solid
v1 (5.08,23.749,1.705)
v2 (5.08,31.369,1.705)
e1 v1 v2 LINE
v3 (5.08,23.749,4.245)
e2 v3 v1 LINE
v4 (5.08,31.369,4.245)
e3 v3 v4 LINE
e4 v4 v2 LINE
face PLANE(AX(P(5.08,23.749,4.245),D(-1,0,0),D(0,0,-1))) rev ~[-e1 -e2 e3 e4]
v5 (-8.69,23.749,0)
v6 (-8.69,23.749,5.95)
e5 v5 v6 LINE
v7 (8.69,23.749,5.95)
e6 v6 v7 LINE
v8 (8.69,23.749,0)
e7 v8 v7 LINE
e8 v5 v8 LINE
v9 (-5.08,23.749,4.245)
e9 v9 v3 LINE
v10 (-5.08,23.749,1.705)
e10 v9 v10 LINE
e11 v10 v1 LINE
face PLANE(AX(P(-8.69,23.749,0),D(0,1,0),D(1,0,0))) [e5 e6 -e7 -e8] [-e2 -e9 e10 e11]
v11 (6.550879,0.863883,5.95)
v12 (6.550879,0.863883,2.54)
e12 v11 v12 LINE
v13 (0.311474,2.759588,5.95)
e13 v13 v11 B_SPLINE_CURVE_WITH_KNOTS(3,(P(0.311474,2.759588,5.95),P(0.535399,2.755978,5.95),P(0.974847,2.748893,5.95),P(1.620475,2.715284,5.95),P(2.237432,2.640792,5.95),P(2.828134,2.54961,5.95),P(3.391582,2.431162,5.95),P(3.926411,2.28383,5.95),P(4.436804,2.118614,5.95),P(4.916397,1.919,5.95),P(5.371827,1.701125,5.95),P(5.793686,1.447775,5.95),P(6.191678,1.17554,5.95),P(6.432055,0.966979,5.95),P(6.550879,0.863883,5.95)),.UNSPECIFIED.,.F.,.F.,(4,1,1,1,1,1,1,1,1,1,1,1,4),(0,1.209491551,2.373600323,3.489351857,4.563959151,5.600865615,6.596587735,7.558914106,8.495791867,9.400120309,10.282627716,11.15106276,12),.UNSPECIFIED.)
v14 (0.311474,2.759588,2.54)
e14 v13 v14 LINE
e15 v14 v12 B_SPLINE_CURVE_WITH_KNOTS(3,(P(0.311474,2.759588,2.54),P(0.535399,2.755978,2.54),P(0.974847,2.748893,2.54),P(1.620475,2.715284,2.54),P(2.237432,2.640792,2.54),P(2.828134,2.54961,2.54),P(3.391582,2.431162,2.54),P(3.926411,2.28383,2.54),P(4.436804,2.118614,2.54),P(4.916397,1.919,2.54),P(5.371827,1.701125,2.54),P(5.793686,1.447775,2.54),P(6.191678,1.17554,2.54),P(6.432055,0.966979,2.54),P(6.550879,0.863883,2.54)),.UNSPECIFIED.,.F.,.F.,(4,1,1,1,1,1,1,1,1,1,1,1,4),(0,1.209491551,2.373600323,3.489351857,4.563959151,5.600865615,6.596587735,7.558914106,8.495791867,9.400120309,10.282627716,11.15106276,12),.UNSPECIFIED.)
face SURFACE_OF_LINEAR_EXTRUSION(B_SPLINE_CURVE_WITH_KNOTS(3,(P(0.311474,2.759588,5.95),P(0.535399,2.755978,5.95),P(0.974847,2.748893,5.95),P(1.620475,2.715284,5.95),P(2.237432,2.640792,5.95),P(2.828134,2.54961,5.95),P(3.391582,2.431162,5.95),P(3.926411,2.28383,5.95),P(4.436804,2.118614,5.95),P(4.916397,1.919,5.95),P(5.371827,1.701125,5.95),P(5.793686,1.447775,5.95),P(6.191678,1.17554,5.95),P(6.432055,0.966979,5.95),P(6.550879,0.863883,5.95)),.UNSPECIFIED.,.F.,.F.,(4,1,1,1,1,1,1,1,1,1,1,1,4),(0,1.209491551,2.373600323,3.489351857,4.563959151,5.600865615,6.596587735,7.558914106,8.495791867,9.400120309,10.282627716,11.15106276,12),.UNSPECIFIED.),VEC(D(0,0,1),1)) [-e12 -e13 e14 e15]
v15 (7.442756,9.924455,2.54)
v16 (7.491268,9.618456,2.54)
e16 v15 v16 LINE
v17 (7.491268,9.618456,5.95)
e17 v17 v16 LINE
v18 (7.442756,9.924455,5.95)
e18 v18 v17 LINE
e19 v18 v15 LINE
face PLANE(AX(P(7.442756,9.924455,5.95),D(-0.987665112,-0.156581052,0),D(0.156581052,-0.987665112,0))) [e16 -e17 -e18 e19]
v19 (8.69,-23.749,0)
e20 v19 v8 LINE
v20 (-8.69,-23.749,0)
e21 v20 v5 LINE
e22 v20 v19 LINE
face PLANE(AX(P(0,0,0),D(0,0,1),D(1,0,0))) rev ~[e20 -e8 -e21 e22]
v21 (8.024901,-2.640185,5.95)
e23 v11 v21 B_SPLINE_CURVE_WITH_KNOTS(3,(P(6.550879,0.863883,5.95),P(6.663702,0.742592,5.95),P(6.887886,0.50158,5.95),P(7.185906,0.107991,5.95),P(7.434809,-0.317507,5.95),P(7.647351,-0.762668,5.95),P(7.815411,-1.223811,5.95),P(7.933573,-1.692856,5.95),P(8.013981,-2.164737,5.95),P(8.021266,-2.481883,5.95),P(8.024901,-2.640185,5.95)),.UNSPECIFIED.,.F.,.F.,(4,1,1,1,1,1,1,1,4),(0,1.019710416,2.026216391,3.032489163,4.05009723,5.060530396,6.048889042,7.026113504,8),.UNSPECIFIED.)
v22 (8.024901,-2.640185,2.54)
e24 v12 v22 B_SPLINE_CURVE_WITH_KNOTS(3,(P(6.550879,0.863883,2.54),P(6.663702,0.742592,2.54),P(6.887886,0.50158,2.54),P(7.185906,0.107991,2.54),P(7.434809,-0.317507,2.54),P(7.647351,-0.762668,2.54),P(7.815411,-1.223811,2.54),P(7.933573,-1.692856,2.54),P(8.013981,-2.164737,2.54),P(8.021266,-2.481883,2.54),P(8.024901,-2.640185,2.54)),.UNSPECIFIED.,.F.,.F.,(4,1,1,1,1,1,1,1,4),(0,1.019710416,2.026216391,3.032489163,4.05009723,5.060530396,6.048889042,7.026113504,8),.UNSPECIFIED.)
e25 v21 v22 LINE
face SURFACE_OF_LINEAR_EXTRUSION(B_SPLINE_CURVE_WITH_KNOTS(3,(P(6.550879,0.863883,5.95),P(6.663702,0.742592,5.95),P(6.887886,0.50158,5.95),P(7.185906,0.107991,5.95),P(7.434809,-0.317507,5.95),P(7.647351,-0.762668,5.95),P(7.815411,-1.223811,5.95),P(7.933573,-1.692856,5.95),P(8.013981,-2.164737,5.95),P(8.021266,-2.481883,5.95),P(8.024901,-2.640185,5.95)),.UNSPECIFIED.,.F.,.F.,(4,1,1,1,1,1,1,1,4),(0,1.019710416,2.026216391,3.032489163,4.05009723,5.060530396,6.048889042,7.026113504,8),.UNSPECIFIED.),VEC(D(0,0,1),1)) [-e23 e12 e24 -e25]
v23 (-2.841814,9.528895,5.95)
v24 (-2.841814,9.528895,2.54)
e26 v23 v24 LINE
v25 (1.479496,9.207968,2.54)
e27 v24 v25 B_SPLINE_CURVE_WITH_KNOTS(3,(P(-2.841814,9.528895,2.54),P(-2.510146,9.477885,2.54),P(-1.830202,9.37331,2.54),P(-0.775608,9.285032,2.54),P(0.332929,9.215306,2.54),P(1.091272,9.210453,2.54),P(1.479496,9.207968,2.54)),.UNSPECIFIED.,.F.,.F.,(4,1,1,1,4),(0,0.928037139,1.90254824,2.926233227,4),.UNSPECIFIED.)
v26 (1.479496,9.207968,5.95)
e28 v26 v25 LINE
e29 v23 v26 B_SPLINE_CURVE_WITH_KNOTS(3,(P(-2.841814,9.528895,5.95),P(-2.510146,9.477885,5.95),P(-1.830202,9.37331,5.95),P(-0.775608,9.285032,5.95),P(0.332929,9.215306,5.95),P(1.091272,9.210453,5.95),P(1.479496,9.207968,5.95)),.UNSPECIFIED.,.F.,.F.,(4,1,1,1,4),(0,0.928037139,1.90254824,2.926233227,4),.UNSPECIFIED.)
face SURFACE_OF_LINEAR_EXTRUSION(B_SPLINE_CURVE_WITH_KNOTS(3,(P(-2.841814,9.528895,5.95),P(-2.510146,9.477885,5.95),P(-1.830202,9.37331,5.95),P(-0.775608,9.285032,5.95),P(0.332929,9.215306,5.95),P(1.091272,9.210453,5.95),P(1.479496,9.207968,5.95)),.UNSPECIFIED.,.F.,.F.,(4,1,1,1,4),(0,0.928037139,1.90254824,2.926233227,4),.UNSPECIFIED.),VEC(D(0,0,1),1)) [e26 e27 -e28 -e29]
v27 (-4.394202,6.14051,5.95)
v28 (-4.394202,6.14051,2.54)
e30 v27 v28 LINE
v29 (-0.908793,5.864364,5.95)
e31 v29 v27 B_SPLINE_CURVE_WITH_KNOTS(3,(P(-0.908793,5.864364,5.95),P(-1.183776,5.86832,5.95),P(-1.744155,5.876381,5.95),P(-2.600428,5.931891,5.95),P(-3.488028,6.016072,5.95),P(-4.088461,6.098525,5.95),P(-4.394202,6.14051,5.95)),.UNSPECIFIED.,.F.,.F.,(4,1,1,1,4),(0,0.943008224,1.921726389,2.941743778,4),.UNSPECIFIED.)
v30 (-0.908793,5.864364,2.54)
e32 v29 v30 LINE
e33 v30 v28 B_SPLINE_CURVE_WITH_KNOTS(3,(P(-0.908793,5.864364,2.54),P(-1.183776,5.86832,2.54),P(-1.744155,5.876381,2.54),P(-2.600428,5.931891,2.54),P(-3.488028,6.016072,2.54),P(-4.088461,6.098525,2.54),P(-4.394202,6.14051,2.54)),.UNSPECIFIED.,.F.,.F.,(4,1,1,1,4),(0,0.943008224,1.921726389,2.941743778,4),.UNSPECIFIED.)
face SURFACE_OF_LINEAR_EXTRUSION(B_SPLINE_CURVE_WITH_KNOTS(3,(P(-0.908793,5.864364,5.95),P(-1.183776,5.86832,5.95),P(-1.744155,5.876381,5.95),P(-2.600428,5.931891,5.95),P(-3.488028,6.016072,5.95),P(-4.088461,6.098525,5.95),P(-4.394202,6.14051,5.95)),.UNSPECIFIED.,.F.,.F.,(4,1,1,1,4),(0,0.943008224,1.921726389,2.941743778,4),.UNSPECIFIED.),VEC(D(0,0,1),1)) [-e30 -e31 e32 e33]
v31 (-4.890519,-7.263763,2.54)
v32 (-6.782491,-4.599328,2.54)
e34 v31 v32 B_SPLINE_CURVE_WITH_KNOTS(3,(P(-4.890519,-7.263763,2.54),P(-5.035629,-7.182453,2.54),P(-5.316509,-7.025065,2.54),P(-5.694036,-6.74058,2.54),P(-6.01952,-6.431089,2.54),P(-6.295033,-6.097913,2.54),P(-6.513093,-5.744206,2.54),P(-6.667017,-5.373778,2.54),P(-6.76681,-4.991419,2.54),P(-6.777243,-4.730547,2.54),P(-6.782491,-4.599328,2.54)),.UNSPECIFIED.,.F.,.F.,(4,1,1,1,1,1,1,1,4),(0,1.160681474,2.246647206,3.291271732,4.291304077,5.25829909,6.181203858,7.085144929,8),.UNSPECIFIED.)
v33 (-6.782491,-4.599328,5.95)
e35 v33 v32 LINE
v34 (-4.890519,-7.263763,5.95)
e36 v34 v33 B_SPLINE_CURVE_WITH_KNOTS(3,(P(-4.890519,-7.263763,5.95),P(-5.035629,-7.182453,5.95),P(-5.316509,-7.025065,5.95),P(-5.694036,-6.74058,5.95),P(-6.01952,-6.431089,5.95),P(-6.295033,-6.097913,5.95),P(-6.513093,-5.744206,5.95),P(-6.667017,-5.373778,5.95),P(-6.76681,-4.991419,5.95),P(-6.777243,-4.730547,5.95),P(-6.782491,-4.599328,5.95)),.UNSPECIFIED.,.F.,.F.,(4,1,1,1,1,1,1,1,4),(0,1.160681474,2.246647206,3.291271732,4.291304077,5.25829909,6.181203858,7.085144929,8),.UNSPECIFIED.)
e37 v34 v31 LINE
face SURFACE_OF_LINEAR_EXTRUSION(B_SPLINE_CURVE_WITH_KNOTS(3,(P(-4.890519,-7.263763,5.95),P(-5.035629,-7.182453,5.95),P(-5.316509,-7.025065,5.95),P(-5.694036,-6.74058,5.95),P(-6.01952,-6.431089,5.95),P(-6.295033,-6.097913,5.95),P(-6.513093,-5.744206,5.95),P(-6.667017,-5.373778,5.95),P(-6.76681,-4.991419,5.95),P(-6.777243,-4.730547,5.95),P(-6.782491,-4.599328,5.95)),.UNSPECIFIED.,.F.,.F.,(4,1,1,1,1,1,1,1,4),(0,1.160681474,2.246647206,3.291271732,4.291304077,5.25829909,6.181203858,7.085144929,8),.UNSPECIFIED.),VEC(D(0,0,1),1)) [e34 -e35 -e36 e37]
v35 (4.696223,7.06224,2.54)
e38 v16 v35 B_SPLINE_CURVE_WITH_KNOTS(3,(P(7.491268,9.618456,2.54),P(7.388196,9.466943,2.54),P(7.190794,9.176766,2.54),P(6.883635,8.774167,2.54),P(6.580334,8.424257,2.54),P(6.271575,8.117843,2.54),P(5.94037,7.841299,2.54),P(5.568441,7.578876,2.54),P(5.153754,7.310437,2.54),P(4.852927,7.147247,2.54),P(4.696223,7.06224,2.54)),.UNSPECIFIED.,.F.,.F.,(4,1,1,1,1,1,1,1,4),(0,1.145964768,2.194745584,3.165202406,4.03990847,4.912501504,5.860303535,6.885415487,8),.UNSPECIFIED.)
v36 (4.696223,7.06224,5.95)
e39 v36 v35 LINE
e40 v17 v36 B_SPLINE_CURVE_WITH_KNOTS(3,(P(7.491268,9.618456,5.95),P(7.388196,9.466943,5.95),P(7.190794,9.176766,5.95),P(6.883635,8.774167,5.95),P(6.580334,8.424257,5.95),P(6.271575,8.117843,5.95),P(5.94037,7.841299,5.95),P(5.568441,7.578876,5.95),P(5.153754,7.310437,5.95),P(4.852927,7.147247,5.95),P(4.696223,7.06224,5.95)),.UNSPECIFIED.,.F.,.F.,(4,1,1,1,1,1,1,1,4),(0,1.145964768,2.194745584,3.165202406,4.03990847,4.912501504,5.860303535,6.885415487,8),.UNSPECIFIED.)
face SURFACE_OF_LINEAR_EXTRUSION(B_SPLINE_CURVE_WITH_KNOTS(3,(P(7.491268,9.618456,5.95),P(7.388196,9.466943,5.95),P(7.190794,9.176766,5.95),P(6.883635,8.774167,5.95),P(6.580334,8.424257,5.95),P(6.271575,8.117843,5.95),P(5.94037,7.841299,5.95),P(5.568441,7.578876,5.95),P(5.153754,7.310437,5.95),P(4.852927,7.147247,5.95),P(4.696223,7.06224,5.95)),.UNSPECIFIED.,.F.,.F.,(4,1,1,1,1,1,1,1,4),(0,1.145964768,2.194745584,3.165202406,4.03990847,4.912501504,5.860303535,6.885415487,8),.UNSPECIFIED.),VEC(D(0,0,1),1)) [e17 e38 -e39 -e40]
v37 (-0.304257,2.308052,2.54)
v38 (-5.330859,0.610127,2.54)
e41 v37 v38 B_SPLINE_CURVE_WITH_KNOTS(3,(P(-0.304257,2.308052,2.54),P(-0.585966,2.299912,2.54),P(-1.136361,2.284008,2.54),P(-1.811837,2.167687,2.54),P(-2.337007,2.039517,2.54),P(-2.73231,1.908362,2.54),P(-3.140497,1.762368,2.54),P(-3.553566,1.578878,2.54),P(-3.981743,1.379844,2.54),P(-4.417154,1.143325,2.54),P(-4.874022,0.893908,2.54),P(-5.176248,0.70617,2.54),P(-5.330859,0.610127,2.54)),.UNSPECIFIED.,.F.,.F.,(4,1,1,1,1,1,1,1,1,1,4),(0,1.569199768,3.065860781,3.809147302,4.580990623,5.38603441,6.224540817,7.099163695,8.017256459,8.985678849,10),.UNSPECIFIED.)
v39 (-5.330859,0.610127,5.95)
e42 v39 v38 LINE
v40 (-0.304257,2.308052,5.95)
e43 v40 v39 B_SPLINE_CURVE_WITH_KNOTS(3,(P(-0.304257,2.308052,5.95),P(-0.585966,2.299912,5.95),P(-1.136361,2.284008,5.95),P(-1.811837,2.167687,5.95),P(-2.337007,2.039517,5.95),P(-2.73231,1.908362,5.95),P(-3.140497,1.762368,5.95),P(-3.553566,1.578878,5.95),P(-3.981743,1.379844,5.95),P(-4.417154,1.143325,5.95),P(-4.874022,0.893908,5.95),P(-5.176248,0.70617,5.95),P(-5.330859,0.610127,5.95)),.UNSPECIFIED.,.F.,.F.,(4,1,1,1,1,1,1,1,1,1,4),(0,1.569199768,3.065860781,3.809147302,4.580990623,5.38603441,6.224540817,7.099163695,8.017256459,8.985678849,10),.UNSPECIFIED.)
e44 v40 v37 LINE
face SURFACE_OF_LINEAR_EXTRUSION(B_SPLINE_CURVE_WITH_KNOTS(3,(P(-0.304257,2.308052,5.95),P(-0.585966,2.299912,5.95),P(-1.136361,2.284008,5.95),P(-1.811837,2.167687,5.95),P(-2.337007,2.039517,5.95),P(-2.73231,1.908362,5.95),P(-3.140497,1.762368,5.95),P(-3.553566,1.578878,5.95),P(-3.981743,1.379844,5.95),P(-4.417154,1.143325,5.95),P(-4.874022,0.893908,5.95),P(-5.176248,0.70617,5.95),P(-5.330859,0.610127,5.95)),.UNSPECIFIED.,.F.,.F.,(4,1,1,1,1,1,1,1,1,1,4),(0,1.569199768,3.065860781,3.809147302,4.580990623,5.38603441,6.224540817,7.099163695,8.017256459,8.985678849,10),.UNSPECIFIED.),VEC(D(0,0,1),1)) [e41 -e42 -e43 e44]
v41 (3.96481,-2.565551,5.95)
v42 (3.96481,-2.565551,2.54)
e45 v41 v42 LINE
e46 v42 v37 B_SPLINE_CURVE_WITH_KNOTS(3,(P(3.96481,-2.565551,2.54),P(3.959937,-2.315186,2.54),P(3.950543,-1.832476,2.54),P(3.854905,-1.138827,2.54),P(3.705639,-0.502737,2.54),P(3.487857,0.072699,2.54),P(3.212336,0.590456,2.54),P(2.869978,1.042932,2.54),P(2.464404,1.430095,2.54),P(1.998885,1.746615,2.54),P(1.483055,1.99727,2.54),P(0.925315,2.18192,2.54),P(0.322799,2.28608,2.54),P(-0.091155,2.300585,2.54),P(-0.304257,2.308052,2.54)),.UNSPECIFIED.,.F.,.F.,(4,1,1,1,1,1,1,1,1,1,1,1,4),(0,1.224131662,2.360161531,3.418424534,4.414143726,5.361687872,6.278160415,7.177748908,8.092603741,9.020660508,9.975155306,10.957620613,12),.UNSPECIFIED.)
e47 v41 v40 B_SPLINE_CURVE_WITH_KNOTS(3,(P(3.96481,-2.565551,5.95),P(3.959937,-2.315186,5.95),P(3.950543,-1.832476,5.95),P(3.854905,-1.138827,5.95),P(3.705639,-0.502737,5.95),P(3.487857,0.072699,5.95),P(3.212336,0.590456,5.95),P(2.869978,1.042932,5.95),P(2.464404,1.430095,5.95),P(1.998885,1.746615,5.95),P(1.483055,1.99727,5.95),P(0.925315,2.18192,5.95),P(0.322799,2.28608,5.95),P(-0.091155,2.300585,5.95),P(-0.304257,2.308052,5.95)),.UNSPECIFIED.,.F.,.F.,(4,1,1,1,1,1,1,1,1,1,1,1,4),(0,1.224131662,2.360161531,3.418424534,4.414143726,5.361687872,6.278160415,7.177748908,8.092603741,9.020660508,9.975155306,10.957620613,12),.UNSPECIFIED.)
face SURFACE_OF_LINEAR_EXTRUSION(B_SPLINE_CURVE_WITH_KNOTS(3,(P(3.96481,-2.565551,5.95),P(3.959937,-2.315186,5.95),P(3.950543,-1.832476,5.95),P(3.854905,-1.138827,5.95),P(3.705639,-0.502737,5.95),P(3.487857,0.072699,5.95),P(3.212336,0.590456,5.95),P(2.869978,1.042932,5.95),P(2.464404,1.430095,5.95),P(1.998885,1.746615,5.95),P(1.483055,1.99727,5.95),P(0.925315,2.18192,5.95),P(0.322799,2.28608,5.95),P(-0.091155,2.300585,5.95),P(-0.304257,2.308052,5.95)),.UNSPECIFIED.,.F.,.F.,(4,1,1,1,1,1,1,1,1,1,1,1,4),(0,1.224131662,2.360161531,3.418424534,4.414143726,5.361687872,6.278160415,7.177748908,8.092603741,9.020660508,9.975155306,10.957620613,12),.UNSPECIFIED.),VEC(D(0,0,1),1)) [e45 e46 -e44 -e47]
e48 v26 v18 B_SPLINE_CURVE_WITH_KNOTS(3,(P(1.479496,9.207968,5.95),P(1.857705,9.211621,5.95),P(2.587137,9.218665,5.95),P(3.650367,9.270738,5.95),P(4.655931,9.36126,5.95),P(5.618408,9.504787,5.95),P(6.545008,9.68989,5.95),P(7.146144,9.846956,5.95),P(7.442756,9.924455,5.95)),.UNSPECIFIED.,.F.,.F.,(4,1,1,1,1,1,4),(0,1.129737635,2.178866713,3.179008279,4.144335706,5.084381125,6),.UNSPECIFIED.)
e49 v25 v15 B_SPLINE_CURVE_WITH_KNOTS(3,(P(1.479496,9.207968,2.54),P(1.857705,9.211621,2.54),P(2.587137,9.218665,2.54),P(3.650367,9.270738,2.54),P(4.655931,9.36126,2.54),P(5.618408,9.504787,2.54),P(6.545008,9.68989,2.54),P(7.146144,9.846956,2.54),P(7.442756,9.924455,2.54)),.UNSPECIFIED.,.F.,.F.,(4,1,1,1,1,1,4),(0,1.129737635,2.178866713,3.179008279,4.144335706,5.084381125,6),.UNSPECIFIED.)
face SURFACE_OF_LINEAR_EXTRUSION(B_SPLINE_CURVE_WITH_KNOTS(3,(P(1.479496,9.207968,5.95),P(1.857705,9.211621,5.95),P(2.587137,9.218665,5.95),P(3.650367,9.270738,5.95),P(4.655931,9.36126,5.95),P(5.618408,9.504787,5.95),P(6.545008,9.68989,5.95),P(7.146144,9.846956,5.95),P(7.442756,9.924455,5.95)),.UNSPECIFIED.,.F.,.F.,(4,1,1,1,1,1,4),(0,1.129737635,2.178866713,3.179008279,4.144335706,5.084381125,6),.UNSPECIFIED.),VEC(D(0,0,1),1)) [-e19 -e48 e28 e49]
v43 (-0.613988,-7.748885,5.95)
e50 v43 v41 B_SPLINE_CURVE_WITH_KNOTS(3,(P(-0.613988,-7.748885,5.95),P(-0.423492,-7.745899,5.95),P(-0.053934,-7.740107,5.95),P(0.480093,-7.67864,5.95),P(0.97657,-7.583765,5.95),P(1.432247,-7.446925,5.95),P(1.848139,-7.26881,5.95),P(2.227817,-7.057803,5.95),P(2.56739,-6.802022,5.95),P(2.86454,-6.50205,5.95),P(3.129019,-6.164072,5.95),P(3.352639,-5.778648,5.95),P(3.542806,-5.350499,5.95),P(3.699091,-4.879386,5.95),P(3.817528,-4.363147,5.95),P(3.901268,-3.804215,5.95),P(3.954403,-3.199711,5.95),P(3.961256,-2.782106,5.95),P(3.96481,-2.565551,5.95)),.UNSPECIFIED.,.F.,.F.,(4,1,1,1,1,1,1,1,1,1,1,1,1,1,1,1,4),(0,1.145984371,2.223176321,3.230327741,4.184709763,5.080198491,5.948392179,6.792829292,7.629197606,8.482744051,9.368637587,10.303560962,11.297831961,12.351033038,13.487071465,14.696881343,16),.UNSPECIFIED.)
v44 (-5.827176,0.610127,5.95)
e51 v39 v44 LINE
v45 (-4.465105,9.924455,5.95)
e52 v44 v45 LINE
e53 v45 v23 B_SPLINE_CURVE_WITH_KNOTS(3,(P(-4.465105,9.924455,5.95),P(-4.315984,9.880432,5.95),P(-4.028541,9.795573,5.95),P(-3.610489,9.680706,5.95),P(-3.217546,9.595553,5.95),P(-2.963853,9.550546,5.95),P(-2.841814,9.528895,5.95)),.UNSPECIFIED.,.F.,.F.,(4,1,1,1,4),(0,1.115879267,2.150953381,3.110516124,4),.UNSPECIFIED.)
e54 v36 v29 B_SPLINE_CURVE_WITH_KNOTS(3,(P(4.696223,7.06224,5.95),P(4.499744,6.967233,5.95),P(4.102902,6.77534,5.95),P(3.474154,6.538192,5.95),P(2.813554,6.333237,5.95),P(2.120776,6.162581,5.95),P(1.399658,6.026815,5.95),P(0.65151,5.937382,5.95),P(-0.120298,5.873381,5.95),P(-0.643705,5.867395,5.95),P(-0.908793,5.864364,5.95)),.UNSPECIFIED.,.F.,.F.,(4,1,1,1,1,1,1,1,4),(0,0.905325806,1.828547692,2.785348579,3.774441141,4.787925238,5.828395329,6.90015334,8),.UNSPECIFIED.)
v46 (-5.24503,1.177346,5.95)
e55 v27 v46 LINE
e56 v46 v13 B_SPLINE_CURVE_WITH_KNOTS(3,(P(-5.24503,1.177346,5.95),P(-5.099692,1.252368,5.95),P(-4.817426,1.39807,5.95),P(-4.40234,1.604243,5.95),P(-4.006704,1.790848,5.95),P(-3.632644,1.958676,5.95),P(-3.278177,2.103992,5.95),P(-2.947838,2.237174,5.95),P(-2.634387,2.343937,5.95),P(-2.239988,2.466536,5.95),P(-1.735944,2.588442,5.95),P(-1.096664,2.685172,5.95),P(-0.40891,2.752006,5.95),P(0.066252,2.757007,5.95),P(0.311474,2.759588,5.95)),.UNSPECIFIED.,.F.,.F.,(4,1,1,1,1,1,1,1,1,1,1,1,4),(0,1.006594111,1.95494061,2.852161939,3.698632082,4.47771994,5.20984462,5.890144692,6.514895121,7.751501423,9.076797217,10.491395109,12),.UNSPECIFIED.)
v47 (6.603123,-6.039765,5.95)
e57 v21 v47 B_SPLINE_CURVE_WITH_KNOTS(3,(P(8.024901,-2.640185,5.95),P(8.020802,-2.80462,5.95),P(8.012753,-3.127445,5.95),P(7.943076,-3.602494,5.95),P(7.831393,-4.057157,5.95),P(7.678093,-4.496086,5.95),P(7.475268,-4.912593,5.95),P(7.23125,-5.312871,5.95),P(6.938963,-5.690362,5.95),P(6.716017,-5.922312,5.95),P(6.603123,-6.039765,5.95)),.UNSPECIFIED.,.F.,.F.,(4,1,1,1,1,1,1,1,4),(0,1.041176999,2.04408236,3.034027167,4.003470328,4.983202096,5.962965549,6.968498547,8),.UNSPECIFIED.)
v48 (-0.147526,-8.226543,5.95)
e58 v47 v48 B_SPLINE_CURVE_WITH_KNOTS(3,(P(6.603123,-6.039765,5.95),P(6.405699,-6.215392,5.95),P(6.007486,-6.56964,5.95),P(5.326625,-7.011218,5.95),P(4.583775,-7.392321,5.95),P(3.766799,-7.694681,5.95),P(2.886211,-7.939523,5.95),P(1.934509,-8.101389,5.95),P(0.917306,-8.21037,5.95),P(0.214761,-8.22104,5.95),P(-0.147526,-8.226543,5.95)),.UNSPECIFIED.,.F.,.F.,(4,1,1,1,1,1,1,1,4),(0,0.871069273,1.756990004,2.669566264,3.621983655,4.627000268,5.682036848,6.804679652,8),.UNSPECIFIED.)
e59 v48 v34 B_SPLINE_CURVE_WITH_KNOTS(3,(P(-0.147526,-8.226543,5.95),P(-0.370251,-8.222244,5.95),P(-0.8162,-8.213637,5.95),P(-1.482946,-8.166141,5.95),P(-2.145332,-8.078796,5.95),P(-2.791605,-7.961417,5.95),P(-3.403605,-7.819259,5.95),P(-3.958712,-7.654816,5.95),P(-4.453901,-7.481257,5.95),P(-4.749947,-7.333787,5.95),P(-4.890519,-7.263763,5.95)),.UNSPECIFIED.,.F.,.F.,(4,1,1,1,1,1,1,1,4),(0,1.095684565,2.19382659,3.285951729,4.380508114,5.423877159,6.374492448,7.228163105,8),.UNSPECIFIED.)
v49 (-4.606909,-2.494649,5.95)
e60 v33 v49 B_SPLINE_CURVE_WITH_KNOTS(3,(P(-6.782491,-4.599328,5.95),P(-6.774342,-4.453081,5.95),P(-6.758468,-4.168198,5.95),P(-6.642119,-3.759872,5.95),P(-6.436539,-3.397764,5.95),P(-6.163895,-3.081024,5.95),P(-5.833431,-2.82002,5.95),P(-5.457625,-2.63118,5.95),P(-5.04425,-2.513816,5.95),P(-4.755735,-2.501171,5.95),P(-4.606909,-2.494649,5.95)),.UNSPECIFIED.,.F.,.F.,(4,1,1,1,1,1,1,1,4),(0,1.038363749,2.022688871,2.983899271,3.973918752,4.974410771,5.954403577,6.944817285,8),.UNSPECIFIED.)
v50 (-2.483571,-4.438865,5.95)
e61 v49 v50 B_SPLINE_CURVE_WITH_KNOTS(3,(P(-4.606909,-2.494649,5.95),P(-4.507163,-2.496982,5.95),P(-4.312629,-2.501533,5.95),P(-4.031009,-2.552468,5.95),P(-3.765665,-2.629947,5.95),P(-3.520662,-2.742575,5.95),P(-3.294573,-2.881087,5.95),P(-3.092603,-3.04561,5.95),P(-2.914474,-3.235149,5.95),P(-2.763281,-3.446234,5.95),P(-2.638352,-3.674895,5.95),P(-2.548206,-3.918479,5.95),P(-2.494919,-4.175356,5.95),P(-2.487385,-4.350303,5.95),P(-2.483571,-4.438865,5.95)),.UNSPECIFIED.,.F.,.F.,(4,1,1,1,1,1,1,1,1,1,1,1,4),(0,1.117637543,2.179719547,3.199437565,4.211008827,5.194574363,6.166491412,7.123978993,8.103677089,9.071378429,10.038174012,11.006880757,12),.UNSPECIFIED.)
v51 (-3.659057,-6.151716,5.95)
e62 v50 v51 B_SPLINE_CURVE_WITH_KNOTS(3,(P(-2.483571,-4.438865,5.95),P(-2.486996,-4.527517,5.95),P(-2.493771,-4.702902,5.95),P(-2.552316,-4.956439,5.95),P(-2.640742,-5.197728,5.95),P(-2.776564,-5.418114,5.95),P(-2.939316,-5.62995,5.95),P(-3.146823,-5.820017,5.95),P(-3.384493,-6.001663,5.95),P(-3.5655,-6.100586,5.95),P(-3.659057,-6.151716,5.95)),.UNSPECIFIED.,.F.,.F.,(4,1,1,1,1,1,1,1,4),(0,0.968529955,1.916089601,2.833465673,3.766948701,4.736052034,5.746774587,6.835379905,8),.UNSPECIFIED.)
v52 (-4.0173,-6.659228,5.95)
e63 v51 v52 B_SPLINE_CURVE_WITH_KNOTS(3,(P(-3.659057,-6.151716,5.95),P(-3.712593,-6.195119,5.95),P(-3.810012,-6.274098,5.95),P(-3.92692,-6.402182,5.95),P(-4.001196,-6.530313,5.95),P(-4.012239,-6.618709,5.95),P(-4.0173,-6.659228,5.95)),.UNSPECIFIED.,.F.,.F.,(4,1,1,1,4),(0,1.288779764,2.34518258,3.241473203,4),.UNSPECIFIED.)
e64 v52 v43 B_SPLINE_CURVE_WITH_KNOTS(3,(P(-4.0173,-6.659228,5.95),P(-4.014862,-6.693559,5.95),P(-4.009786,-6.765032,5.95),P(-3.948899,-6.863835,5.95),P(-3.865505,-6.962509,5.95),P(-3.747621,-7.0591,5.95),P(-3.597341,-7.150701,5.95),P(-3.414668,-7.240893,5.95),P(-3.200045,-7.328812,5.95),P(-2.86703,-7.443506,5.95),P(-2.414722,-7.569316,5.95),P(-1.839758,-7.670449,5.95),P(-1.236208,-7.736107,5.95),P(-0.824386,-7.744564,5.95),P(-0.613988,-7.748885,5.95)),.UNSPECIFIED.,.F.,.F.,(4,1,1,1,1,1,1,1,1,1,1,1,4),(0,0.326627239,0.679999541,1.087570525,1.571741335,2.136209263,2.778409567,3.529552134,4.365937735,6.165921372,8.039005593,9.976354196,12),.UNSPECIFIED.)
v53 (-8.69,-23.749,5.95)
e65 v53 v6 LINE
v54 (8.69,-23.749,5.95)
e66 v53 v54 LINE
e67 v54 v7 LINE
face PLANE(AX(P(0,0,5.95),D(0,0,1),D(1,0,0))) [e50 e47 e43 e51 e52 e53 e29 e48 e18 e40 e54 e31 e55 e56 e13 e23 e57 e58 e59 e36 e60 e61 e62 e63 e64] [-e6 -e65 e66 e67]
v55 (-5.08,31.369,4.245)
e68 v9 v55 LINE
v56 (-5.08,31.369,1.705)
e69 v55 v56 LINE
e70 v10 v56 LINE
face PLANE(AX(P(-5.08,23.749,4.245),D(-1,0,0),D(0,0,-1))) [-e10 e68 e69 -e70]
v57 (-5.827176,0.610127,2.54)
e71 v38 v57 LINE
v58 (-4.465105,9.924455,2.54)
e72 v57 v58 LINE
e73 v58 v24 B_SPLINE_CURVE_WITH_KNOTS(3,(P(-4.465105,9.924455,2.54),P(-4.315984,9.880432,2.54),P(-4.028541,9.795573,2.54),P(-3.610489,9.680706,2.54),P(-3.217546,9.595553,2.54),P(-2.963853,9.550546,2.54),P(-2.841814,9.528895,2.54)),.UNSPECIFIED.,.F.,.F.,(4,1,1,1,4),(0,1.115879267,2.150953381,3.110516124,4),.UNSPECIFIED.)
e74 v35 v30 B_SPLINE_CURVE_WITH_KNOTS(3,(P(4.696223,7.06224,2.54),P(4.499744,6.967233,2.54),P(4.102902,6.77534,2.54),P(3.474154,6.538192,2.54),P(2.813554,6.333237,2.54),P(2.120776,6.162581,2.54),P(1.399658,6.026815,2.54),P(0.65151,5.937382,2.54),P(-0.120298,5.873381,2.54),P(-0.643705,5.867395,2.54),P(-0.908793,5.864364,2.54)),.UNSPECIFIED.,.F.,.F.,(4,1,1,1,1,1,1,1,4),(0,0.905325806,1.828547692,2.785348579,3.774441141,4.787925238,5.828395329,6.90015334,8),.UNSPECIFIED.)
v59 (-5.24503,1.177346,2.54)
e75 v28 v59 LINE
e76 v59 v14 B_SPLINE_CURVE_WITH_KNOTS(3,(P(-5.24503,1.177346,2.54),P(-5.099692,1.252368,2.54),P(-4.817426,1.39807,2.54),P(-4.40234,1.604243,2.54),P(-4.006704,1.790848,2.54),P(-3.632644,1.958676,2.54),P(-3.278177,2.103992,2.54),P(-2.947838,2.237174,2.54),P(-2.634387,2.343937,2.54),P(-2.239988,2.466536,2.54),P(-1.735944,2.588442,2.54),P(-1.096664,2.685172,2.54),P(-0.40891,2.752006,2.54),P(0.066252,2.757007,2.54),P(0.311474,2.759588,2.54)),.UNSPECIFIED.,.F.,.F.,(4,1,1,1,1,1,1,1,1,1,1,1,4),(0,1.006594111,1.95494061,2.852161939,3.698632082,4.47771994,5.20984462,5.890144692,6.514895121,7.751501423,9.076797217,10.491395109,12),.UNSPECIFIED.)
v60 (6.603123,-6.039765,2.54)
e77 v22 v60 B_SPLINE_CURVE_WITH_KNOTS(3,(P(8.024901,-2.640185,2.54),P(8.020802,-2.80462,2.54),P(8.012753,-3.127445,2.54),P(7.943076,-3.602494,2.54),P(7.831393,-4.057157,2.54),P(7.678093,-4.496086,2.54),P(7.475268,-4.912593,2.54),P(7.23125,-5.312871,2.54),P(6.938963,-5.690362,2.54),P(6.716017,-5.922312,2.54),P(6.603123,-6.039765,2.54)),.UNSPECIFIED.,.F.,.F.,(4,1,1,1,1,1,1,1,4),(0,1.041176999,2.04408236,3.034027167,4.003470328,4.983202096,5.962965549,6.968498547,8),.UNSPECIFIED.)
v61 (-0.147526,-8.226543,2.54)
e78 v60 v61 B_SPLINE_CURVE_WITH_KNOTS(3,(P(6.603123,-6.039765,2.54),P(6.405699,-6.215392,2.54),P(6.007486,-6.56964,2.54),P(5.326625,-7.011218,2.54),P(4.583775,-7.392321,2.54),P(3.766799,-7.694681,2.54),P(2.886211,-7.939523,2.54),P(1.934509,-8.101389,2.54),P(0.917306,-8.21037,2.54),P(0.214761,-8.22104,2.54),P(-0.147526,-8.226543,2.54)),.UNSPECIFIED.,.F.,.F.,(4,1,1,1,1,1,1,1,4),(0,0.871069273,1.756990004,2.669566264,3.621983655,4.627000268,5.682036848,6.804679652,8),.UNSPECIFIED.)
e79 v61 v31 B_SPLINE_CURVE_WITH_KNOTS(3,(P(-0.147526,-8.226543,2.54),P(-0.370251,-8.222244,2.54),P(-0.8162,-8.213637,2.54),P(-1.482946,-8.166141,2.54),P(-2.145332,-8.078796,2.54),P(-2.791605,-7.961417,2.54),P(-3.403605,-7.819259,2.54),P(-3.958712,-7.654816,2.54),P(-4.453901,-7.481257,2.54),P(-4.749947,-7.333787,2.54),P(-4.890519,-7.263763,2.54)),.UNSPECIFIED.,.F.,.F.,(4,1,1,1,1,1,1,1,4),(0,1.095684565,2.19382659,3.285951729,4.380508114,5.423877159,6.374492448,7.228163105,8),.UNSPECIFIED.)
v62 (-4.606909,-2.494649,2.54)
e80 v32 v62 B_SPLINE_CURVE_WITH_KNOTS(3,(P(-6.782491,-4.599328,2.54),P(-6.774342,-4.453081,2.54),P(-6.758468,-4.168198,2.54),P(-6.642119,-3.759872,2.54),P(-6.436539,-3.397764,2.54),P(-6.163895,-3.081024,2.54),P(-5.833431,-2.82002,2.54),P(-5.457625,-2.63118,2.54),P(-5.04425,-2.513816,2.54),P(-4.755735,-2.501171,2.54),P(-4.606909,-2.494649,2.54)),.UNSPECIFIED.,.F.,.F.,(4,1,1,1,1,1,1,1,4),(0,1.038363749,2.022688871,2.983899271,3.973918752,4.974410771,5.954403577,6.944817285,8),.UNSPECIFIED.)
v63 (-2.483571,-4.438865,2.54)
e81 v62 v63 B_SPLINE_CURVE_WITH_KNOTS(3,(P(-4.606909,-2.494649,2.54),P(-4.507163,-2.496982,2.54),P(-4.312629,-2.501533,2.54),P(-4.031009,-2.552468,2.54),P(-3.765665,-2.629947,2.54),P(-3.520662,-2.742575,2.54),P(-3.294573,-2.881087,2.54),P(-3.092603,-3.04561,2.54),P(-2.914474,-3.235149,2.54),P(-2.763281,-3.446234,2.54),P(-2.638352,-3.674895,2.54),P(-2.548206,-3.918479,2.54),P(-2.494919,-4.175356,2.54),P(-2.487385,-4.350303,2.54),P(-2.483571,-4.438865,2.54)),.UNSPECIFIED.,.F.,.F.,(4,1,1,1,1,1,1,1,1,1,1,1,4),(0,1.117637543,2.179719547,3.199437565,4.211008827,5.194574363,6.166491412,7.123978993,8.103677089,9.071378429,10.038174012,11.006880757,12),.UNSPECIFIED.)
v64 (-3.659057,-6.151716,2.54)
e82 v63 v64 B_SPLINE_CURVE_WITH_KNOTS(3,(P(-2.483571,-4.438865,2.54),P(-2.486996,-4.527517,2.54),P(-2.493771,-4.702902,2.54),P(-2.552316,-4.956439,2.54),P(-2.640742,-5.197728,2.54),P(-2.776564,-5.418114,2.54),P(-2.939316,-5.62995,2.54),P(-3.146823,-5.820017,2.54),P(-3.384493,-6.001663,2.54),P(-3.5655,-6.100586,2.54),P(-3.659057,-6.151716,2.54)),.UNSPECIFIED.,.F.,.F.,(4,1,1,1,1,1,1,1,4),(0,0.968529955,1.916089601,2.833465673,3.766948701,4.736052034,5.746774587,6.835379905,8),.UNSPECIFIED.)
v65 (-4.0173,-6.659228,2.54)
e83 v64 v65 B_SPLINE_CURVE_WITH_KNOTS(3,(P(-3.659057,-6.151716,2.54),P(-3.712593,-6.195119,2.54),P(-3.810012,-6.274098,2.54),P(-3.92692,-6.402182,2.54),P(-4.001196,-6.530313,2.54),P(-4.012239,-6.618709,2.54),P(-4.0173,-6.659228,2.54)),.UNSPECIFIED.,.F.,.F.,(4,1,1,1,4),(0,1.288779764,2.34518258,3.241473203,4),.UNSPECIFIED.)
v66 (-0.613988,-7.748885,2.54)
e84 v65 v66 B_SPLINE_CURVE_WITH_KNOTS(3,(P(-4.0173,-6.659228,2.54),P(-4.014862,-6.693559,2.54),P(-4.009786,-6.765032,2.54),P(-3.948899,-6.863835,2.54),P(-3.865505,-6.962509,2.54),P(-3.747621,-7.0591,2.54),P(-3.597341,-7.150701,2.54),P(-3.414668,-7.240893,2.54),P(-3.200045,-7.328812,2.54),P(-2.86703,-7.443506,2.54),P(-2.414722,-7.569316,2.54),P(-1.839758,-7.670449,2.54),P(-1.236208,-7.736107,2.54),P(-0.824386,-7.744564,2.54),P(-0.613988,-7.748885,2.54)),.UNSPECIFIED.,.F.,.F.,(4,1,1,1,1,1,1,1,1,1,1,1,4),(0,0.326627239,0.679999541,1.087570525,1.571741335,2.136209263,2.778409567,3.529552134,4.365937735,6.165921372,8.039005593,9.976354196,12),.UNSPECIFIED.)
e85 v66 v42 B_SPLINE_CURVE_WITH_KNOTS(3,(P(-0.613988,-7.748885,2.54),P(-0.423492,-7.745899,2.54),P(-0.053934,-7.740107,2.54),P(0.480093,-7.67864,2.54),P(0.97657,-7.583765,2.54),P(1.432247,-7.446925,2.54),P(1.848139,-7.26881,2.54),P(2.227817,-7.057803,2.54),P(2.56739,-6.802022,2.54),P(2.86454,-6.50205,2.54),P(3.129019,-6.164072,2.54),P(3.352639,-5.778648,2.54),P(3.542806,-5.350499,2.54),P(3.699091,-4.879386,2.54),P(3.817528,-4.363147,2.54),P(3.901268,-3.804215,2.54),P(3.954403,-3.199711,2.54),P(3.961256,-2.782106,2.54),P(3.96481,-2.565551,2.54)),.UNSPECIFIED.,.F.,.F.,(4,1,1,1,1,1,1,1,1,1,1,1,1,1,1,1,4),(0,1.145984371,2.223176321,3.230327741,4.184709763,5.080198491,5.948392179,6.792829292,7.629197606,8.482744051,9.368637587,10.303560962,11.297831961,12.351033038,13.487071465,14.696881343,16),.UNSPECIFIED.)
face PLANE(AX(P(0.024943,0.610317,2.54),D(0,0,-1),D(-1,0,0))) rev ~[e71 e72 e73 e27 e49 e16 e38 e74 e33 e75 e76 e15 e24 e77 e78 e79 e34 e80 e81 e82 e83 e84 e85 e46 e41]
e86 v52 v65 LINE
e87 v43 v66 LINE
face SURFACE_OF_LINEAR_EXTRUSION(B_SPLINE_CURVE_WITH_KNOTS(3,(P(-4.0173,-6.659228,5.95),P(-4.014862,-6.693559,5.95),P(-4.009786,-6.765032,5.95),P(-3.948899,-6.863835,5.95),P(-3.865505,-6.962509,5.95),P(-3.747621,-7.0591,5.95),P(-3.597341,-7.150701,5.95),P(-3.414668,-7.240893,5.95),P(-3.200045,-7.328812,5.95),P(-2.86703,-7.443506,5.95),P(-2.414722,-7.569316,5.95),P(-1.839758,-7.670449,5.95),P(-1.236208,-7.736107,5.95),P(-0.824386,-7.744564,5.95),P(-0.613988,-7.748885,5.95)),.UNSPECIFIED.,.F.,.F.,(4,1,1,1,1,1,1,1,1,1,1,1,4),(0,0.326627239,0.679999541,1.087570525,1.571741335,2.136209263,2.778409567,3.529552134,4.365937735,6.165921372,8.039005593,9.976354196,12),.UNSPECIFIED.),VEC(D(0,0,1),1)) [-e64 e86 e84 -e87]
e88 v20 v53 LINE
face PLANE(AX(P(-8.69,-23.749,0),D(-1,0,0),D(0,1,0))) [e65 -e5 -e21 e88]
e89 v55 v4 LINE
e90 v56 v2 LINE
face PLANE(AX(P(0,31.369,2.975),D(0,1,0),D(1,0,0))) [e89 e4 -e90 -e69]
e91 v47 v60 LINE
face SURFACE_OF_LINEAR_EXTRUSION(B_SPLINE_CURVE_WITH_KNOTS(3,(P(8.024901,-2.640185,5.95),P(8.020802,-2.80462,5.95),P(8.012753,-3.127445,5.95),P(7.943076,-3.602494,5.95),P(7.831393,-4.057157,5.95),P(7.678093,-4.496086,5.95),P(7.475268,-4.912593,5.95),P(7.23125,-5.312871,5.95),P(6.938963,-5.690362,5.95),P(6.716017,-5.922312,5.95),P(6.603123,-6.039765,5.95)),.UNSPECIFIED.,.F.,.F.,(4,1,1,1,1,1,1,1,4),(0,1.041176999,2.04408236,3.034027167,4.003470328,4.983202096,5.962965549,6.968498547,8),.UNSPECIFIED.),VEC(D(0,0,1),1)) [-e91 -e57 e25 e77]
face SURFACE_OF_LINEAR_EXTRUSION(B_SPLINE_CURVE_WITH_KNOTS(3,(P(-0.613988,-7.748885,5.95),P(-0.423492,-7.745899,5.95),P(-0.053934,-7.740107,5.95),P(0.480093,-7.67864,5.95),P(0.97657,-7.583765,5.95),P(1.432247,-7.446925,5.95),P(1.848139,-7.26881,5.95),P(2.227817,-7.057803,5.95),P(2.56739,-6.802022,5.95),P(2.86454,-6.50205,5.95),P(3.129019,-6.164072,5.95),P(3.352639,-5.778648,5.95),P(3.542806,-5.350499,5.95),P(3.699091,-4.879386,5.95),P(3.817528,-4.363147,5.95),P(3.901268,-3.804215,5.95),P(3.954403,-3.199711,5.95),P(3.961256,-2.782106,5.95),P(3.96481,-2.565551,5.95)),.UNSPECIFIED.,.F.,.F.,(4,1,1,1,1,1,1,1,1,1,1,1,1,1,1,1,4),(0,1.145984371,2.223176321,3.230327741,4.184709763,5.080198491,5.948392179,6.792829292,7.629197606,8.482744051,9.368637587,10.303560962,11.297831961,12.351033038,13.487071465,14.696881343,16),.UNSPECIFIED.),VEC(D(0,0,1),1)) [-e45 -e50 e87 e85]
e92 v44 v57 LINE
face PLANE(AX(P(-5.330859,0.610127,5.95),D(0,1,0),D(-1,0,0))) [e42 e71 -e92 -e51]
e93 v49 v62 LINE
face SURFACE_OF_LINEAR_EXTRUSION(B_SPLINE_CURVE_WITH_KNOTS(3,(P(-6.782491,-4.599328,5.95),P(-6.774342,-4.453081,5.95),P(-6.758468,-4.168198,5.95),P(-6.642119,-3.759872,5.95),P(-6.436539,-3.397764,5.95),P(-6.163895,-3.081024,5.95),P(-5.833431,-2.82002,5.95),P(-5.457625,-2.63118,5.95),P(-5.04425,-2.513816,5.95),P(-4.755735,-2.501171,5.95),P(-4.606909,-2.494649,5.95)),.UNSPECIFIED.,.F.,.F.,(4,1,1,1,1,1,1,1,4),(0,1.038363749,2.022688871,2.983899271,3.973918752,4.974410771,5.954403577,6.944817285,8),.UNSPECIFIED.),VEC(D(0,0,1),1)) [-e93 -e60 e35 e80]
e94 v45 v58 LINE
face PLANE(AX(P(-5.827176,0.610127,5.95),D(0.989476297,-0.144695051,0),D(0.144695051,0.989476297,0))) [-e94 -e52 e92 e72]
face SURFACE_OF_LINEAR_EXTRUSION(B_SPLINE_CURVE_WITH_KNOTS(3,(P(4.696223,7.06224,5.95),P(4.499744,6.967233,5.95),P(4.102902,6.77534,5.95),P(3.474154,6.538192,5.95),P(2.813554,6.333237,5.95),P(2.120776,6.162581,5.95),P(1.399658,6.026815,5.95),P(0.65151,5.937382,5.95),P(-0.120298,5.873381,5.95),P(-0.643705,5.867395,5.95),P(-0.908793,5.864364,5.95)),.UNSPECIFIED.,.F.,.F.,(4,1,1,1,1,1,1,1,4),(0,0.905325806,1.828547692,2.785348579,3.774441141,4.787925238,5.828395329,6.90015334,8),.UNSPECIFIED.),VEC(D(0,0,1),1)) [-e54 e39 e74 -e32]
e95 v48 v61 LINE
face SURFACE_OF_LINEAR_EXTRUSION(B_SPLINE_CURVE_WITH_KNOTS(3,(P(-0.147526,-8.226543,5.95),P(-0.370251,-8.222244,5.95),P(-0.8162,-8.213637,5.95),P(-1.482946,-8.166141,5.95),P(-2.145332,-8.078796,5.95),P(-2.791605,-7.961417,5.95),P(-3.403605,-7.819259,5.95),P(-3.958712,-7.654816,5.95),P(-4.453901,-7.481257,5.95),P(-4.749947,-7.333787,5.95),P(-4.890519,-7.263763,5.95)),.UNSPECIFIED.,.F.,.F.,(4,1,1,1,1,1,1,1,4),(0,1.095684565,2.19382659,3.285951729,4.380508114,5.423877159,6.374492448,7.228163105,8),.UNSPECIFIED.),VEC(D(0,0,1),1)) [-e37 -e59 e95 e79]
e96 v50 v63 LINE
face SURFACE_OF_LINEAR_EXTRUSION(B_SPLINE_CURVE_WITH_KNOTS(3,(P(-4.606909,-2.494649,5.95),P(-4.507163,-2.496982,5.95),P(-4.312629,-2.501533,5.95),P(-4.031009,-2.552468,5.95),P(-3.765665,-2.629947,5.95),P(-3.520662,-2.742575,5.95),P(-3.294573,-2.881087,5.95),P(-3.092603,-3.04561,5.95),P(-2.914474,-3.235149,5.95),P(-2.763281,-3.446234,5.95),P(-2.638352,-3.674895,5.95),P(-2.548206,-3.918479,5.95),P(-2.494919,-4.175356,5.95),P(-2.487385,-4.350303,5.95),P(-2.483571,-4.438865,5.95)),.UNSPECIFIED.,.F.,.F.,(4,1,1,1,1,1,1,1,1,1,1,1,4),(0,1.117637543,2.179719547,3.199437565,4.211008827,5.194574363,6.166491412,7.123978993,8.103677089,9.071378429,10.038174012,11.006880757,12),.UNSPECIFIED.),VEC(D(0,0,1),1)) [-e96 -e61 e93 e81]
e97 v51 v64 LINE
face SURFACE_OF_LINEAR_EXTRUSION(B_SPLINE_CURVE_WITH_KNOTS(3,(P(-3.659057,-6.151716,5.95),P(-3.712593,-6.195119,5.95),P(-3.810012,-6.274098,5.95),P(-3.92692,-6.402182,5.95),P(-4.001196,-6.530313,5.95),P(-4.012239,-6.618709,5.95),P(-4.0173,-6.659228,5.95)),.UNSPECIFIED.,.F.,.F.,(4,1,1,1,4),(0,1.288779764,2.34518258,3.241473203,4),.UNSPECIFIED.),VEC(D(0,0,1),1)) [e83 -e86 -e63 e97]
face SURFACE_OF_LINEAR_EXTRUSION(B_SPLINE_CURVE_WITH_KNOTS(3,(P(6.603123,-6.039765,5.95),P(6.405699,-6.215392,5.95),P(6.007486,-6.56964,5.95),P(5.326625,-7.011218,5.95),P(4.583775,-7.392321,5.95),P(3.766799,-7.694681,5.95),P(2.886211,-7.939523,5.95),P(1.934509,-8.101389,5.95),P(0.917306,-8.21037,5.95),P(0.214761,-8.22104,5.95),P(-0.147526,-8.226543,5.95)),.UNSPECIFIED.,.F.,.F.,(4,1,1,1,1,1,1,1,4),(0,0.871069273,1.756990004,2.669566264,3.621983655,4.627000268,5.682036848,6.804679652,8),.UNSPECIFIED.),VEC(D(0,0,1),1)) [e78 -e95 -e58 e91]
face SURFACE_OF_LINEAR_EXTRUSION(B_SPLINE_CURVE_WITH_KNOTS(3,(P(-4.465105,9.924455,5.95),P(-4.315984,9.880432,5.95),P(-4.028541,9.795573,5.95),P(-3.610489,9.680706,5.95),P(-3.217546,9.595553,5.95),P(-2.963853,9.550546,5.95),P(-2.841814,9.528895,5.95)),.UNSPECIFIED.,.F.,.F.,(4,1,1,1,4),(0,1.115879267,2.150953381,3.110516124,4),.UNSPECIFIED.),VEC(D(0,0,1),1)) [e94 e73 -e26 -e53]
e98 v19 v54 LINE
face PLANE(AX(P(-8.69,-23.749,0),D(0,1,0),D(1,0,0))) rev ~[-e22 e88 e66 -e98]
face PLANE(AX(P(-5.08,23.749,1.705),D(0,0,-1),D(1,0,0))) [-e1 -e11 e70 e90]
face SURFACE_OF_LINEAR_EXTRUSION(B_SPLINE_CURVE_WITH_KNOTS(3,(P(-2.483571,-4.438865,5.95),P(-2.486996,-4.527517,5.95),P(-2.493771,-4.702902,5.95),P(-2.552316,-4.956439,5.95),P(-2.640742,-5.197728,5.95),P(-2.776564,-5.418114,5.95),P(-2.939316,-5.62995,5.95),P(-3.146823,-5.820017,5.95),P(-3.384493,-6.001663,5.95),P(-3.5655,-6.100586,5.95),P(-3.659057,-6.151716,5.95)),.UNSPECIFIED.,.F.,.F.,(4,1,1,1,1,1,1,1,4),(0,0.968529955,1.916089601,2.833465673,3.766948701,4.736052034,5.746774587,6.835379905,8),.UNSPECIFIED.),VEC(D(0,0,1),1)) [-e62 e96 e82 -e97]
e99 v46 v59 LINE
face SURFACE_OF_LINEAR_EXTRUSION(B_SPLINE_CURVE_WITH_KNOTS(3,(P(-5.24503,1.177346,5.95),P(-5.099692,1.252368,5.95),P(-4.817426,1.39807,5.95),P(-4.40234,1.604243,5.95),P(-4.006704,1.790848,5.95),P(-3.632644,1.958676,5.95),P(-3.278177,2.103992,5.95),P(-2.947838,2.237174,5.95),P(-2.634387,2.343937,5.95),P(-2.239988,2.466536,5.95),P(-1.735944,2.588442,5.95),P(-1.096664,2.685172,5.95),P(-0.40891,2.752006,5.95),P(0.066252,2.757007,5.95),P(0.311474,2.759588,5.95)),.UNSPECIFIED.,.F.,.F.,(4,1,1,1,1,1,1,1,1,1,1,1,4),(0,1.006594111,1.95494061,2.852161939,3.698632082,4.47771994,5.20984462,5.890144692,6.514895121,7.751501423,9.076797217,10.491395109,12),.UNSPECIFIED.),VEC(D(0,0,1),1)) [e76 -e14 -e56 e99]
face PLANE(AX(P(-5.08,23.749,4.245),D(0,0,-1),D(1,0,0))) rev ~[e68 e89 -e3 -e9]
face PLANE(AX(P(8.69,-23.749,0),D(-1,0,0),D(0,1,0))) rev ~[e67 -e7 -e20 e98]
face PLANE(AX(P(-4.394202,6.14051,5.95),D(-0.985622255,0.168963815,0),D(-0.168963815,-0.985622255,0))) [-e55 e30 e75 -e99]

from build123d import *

# Parameters (mm, degrees)
SKETCH1_W           = 17.38
SKETCH1_H           = 47.498
BOSS_EXTRUDE1_DEPTH = 5.95
CUT_EXTRUDE1_DEPTH  = 3.41
SKETCH3_W           = 10.16
SKETCH3_H           = 2.54
BOSS_EXTRUDE2_DEPTH = 7.62


with BuildPart() as part:
    # Sketch1 → Boss-Extrude1 (new body)
    with BuildSketch(Plane.XY):
        Rectangle(SKETCH1_W, SKETCH1_H)
    extrude(amount=BOSS_EXTRUDE1_DEPTH)

    # Sketch2 → Cut-Extrude1 (cut)
    with BuildSketch(Plane.XY.offset(5.95)):
        with BuildLine():
            Line((7.442756003, 9.924455156), (7.491268126, 9.618455606))
            add(Edge.make_bspline(
                [(7.491268126, 9.618455606), (7.388196446, 9.466942554), (7.190794115, 9.176765567), (6.883635039, 8.77416687), (6.580334345, 8.424256906), (6.271574884, 8.117843462), (5.940370317, 7.841299159), (5.568441188, 7.578876003), (5.153754118, 7.310436522), (4.852926765, 7.147246701), (4.696223459, 7.062239856)],
                knots=[0, 0, 0, 0, 1.145964768, 2.194745584, 3.165202406, 4.03990847, 4.912501504, 5.860303535, 6.885415487, 8, 8, 8, 8], degree=3))
            add(Edge.make_bspline(
                [(4.696223459, 7.062239856), (4.499744398, 6.967232704), (4.102902364, 6.775340341), (3.474153814, 6.538191996), (2.813554004, 6.333237061), (2.120776353, 6.162580703), (1.399657714, 6.026815112), (0.651510405, 5.937381635), (-0.120298453, 5.873381172), (-0.643704604, 5.867395245), (-0.908792682, 5.86436357)],
                knots=[0, 0, 0, 0, 0.905325806, 1.828547692, 2.785348579, 3.774441141, 4.787925238, 5.828395329, 6.90015334, 8, 8, 8, 8], degree=3))
            add(Edge.make_bspline(
                [(-0.908792682, 5.86436357), (-1.183775776, 5.868319524), (-1.744155055, 5.876381236), (-2.60042752, 5.931891418), (-3.488027549, 6.016072254), (-4.088461448, 6.098524731), (-4.394202187, 6.140509505)],
                knots=[0, 0, 0, 0, 0.943008224, 1.921726389, 2.941743778, 4, 4, 4, 4], degree=3))
            Line((-4.394202187, 6.140509505), (-5.245030203, 1.177346077))
            add(Edge.make_bspline(
                [(-5.245030203, 1.177346077), (-5.099692133, 1.252367706), (-4.817426132, 1.398069757), (-4.4023402, 1.604243124), (-4.006704111, 1.790847965), (-3.632644493, 1.958676402), (-3.278177346, 2.103991861), (-2.947838119, 2.237174313), (-2.634386649, 2.343936776), (-2.239987634, 2.466535927), (-1.735943769, 2.588441657), (-1.096664304, 2.685171937), (-0.408909829, 2.752005624), (0.066252368, 2.757006699), (0.311473815, 2.759587651)],
                knots=[0, 0, 0, 0, 1.006594111, 1.95494061, 2.852161939, 3.698632082, 4.47771994, 5.20984462, 5.890144692, 6.514895121, 7.751501423, 9.076797217, 10.491395109, 12, 12, 12, 12], degree=3))
            add(Edge.make_bspline(
                [(0.311473815, 2.759587651), (0.535398839, 2.755977577), (0.974846729, 2.748892886), (1.620475428, 2.715284292), (2.237431508, 2.640791764), (2.828133868, 2.549610207), (3.391581711, 2.431161677), (3.926410539, 2.283829718), (4.436803767, 2.118613947), (4.916396667, 1.918999578), (5.371826845, 1.701125088), (5.793685602, 1.447774573), (6.191678015, 1.175540089), (6.432055206, 0.966979497), (6.550879266, 0.863883124)],
                knots=[0, 0, 0, 0, 1.209491551, 2.373600323, 3.489351857, 4.563959151, 5.600865615, 6.596587735, 7.558914106, 8.495791867, 9.400120309, 10.282627716, 11.15106276, 12, 12, 12, 12], degree=3))
            add(Edge.make_bspline(
                [(6.550879266, 0.863883124), (6.663701743, 0.742591932), (6.887885733, 0.501580172), (7.185905623, 0.107991252), (7.434808919, -0.317506707), (7.64735089, -0.762667624), (7.815411217, -1.223810977), (7.933572717, -1.692856119), (8.013981471, -2.164737406), (8.021265636, -2.481883253), (8.024901487, -2.64018489)],
                knots=[0, 0, 0, 0, 1.019710416, 2.026216391, 3.032489163, 4.05009723, 5.060530396, 6.048889042, 7.026113504, 8, 8, 8, 8], degree=3))
            add(Edge.make_bspline(
                [(8.024901487, -2.64018489), (8.020801767, -2.804619839), (8.012753023, -3.127445431), (7.943075826, -3.602494497), (7.831393213, -4.057156952), (7.67809346, -4.496086456), (7.475268481, -4.912593105), (7.231250027, -5.312871427), (6.938962553, -5.690361738), (6.716016962, -5.922311768), (6.603123092, -6.039765252)],
                knots=[0, 0, 0, 0, 1.041176999, 2.04408236, 3.034027167, 4.003470328, 4.983202096, 5.962965549, 6.968498547, 8, 8, 8, 8], degree=3))
            add(Edge.make_bspline(
                [(6.603123092, -6.039765252), (6.405699461, -6.215392151), (6.007486189, -6.569640332), (5.32662517, -7.011218259), (4.58377472, -7.392320821), (3.766799238, -7.694680543), (2.886211455, -7.939522552), (1.934509396, -8.101388624), (0.917305834, -8.210370201), (0.214760817, -8.221040232), (-0.14752551, -8.226542522)],
                knots=[0, 0, 0, 0, 0.871069273, 1.756990004, 2.669566264, 3.621983655, 4.627000268, 5.682036848, 6.804679652, 8, 8, 8, 8], degree=3))
            add(Edge.make_bspline(
                [(-0.14752551, -8.226542522), (-0.370250634, -8.222244049), (-0.816200421, -8.213637462), (-1.482946375, -8.166140654), (-2.145331954, -8.078795756), (-2.791605268, -7.961417463), (-3.403604951, -7.819259345), (-3.958712163, -7.654815969), (-4.453900955, -7.481257394), (-4.749947343, -7.333786701), (-4.890518529, -7.263763451)],
                knots=[0, 0, 0, 0, 1.095684565, 2.19382659, 3.285951729, 4.380508114, 5.423877159, 6.374492448, 7.228163105, 8, 8, 8, 8], degree=3))
            add(Edge.make_bspline(
                [(-4.890518529, -7.263763451), (-5.035629193, -7.182452627), (-5.316509414, -7.025065144), (-5.694035748, -6.740579878), (-6.019519859, -6.431088542), (-6.295032988, -6.097913353), (-6.51309252, -5.744206053), (-6.667017422, -5.373777783), (-6.766809982, -4.991418752), (-6.777243361, -4.730546951), (-6.782491355, -4.599328348)],
                knots=[0, 0, 0, 0, 1.160681474, 2.246647206, 3.291271732, 4.291304077, 5.25829909, 6.181203858, 7.085144929, 8, 8, 8, 8], degree=3))
            add(Edge.make_bspline(
                [(-6.782491355, -4.599328348), (-6.774342349, -4.453081073), (-6.75846843, -4.168197538), (-6.64211866, -3.759871717), (-6.436538728, -3.397764213), (-6.163895247, -3.081023671), (-5.833430689, -2.820020292), (-5.457625005, -2.631179544), (-5.044250192, -2.513816473), (-4.755734581, -2.501171297), (-4.606909191, -2.494648518)],
                knots=[0, 0, 0, 0, 1.038363749, 2.022688871, 2.983899271, 3.973918752, 4.974410771, 5.954403577, 6.944817285, 8, 8, 8, 8], degree=3))
            add(Edge.make_bspline(
                [(-4.606909191, -2.494648518), (-4.507163048, -2.496981892), (-4.312628946, -2.501532653), (-4.031008634, -2.552467514), (-3.765664982, -2.629947355), (-3.520661715, -2.74257489), (-3.294573312, -2.881087206), (-3.092603306, -3.045610231), (-2.914473539, -3.235149346), (-2.763280777, -3.446234353), (-2.638351732, -3.674894842), (-2.548205754, -3.918478563), (-2.494918861, -4.17535582), (-2.487384773, -4.350303052), (-2.483570852, -4.438865169)],
                knots=[0, 0, 0, 0, 1.117637543, 2.179719547, 3.199437565, 4.211008827, 5.194574363, 6.166491412, 7.123978993, 8.103677089, 9.071378429, 10.038174012, 11.006880757, 12, 12, 12, 12], degree=3))
            add(Edge.make_bspline(
                [(-2.483570852, -4.438865169), (-2.486995627, -4.527517151), (-2.493771023, -4.70290165), (-2.552315647, -4.956438553), (-2.640742431, -5.197727564), (-2.776563998, -5.418114374), (-2.939315934, -5.629950077), (-3.146823442, -5.820016584), (-3.384493352, -6.001663071), (-3.565500253, -6.100586139), (-3.659056927, -6.151716307)],
                knots=[0, 0, 0, 0, 0.968529955, 1.916089601, 2.833465673, 3.766948701, 4.736052034, 5.746774587, 6.835379905, 8, 8, 8, 8], degree=3))
            add(Edge.make_bspline(
                [(-3.659056927, -6.151716307), (-3.712593015, -6.195118685), (-3.810012219, -6.274097656), (-3.926920197, -6.402182193), (-4.001195782, -6.530313333), (-4.012238567, -6.618709273), (-4.017300302, -6.659227755)],
                knots=[0, 0, 0, 0, 1.288779764, 2.34518258, 3.241473203, 4, 4, 4, 4], degree=3))
            add(Edge.make_bspline(
                [(-4.017300302, -6.659227755), (-4.014862106, -6.693558852), (-4.009786068, -6.765032163), (-3.94889938, -6.86383505), (-3.865505152, -6.962509198), (-3.747621078, -7.0590999), (-3.59734133, -7.150700716), (-3.414668231, -7.240893328), (-3.200044936, -7.328812331), (-2.867030136, -7.443506304), (-2.414722193, -7.569316413), (-1.839757858, -7.670449008), (-1.236208093, -7.736106558), (-0.824385614, -7.744563892), (-0.613988238, -7.748884688)],
                knots=[0, 0, 0, 0, 0.326627239, 0.679999541, 1.087570525, 1.571741335, 2.136209263, 2.778409567, 3.529552134, 4.365937735, 6.165921372, 8.039005593, 9.976354196, 12, 12, 12, 12], degree=3))
            add(Edge.make_bspline(
                [(-0.613988238, -7.748884688), (-0.42349165, -7.745898893), (-0.053933814, -7.740106537), (0.480092866, -7.67864014), (0.976569924, -7.583764599), (1.432246926, -7.446925264), (1.848139012, -7.268810492), (2.227817186, -7.057803498), (2.567389934, -6.802022096), (2.864540024, -6.502050413), (3.12901858, -6.16407249), (3.352639163, -5.778648178), (3.54280588, -5.350498704), (3.699090595, -4.879386484), (3.817527637, -4.363147203), (3.901267526, -3.80421506), (3.954403228, -3.199710621), (3.96125619, -2.7821062), (3.964809902, -2.565550853)],
                knots=[0, 0, 0, 0, 1.145984371, 2.223176321, 3.230327741, 4.184709763, 5.080198491, 5.948392179, 6.792829292, 7.629197606, 8.482744051, 9.368637587, 10.303560962, 11.297831961, 12.351033038, 13.487071465, 14.696881343, 16, 16, 16, 16], degree=3))
            add(Edge.make_bspline(
                [(3.964809902, -2.565550853), (3.959937282, -2.315186172), (3.95054273, -1.832475769), (3.854905269, -1.138827256), (3.705638698, -0.502736617), (3.487857452, 0.072698671), (3.212336232, 0.590456281), (2.869977731, 1.042931556), (2.464404193, 1.430095093), (1.998885296, 1.746615006), (1.483054716, 1.997270407), (0.925314836, 2.181919986), (0.322799369, 2.28608044), (-0.091155302, 2.300584907), (-0.304256986, 2.308051731)],
                knots=[0, 0, 0, 0, 1.224131662, 2.360161531, 3.418424534, 4.414143726, 5.361687872, 6.278160415, 7.177748908, 8.092603741, 9.020660508, 9.975155306, 10.957620613, 12, 12, 12, 12], degree=3))
            add(Edge.make_bspline(
                [(-0.304256986, 2.308051731), (-0.585965965, 2.299911613), (-1.136361477, 2.284007669), (-1.811836605, 2.167686698), (-2.337007345, 2.039517007), (-2.732310337, 1.908362031), (-3.140497373, 1.762367668), (-3.553566201, 1.578877843), (-3.981742925, 1.379844177), (-4.417153582, 1.143324516), (-4.874022359, 0.893907905), (-5.176248262, 0.706169561), (-5.330859345, 0.6101274)],
                knots=[0, 0, 0, 0, 1.569199768, 3.065860781, 3.809147302, 4.580990623, 5.38603441, 6.224540817, 7.099163695, 8.017256459, 8.985678849, 10, 10, 10, 10], degree=3))
            Line((-5.330859345, 0.6101274), (-5.827175687, 0.6101274))
            Line((-5.827175687, 0.6101274), (-4.465104521, 9.924455156))
            add(Edge.make_bspline(
                [(-4.465104521, 9.924455156), (-4.315984039, 9.880431687), (-4.028541468, 9.795572662), (-3.610488685, 9.680706455), (-3.217546123, 9.59555299), (-2.963853205, 9.550545578), (-2.841814227, 9.528894762)],
                knots=[0, 0, 0, 0, 1.115879267, 2.150953381, 3.110516124, 4, 4, 4, 4], degree=3))
            add(Edge.make_bspline(
                [(-2.841814227, 9.528894762), (-2.510146411, 9.477884697), (-1.830201619, 9.373310099), (-0.775608412, 9.285032005), (0.332929285, 9.21530606), (1.09127166, 9.210452917), (1.479496486, 9.207968405)],
                knots=[0, 0, 0, 0, 0.928037139, 1.90254824, 2.926233227, 4, 4, 4, 4], degree=3))
            add(Edge.make_bspline(
                [(1.479496486, 9.207968405), (1.857705195, 9.211620808), (2.587136827, 9.218665008), (3.650367069, 9.270738299), (4.655930506, 9.361259539), (5.618408289, 9.504787441), (6.545008139, 9.689890411), (7.146144347, 9.846956071), (7.442756003, 9.924455156)],
                knots=[0, 0, 0, 0, 1.129737635, 2.178866713, 3.179008279, 4.144335706, 5.084381125, 6, 6, 6, 6], degree=3))
        make_face()
    extrude(amount=-CUT_EXTRUDE1_DEPTH, mode=Mode.SUBTRACT)

    # Sketch3 → Boss-Extrude2 (add)
    with BuildSketch(Plane(origin=(0, 23.749, 0), x_dir=(1, 0, 0), z_dir=(0, 1, 0))):
        with Locations((0, -2.975)):
            Rectangle(SKETCH3_W, SKETCH3_H)
    extrude(amount=BOSS_EXTRUDE2_DEPTH)


solid = part.part
